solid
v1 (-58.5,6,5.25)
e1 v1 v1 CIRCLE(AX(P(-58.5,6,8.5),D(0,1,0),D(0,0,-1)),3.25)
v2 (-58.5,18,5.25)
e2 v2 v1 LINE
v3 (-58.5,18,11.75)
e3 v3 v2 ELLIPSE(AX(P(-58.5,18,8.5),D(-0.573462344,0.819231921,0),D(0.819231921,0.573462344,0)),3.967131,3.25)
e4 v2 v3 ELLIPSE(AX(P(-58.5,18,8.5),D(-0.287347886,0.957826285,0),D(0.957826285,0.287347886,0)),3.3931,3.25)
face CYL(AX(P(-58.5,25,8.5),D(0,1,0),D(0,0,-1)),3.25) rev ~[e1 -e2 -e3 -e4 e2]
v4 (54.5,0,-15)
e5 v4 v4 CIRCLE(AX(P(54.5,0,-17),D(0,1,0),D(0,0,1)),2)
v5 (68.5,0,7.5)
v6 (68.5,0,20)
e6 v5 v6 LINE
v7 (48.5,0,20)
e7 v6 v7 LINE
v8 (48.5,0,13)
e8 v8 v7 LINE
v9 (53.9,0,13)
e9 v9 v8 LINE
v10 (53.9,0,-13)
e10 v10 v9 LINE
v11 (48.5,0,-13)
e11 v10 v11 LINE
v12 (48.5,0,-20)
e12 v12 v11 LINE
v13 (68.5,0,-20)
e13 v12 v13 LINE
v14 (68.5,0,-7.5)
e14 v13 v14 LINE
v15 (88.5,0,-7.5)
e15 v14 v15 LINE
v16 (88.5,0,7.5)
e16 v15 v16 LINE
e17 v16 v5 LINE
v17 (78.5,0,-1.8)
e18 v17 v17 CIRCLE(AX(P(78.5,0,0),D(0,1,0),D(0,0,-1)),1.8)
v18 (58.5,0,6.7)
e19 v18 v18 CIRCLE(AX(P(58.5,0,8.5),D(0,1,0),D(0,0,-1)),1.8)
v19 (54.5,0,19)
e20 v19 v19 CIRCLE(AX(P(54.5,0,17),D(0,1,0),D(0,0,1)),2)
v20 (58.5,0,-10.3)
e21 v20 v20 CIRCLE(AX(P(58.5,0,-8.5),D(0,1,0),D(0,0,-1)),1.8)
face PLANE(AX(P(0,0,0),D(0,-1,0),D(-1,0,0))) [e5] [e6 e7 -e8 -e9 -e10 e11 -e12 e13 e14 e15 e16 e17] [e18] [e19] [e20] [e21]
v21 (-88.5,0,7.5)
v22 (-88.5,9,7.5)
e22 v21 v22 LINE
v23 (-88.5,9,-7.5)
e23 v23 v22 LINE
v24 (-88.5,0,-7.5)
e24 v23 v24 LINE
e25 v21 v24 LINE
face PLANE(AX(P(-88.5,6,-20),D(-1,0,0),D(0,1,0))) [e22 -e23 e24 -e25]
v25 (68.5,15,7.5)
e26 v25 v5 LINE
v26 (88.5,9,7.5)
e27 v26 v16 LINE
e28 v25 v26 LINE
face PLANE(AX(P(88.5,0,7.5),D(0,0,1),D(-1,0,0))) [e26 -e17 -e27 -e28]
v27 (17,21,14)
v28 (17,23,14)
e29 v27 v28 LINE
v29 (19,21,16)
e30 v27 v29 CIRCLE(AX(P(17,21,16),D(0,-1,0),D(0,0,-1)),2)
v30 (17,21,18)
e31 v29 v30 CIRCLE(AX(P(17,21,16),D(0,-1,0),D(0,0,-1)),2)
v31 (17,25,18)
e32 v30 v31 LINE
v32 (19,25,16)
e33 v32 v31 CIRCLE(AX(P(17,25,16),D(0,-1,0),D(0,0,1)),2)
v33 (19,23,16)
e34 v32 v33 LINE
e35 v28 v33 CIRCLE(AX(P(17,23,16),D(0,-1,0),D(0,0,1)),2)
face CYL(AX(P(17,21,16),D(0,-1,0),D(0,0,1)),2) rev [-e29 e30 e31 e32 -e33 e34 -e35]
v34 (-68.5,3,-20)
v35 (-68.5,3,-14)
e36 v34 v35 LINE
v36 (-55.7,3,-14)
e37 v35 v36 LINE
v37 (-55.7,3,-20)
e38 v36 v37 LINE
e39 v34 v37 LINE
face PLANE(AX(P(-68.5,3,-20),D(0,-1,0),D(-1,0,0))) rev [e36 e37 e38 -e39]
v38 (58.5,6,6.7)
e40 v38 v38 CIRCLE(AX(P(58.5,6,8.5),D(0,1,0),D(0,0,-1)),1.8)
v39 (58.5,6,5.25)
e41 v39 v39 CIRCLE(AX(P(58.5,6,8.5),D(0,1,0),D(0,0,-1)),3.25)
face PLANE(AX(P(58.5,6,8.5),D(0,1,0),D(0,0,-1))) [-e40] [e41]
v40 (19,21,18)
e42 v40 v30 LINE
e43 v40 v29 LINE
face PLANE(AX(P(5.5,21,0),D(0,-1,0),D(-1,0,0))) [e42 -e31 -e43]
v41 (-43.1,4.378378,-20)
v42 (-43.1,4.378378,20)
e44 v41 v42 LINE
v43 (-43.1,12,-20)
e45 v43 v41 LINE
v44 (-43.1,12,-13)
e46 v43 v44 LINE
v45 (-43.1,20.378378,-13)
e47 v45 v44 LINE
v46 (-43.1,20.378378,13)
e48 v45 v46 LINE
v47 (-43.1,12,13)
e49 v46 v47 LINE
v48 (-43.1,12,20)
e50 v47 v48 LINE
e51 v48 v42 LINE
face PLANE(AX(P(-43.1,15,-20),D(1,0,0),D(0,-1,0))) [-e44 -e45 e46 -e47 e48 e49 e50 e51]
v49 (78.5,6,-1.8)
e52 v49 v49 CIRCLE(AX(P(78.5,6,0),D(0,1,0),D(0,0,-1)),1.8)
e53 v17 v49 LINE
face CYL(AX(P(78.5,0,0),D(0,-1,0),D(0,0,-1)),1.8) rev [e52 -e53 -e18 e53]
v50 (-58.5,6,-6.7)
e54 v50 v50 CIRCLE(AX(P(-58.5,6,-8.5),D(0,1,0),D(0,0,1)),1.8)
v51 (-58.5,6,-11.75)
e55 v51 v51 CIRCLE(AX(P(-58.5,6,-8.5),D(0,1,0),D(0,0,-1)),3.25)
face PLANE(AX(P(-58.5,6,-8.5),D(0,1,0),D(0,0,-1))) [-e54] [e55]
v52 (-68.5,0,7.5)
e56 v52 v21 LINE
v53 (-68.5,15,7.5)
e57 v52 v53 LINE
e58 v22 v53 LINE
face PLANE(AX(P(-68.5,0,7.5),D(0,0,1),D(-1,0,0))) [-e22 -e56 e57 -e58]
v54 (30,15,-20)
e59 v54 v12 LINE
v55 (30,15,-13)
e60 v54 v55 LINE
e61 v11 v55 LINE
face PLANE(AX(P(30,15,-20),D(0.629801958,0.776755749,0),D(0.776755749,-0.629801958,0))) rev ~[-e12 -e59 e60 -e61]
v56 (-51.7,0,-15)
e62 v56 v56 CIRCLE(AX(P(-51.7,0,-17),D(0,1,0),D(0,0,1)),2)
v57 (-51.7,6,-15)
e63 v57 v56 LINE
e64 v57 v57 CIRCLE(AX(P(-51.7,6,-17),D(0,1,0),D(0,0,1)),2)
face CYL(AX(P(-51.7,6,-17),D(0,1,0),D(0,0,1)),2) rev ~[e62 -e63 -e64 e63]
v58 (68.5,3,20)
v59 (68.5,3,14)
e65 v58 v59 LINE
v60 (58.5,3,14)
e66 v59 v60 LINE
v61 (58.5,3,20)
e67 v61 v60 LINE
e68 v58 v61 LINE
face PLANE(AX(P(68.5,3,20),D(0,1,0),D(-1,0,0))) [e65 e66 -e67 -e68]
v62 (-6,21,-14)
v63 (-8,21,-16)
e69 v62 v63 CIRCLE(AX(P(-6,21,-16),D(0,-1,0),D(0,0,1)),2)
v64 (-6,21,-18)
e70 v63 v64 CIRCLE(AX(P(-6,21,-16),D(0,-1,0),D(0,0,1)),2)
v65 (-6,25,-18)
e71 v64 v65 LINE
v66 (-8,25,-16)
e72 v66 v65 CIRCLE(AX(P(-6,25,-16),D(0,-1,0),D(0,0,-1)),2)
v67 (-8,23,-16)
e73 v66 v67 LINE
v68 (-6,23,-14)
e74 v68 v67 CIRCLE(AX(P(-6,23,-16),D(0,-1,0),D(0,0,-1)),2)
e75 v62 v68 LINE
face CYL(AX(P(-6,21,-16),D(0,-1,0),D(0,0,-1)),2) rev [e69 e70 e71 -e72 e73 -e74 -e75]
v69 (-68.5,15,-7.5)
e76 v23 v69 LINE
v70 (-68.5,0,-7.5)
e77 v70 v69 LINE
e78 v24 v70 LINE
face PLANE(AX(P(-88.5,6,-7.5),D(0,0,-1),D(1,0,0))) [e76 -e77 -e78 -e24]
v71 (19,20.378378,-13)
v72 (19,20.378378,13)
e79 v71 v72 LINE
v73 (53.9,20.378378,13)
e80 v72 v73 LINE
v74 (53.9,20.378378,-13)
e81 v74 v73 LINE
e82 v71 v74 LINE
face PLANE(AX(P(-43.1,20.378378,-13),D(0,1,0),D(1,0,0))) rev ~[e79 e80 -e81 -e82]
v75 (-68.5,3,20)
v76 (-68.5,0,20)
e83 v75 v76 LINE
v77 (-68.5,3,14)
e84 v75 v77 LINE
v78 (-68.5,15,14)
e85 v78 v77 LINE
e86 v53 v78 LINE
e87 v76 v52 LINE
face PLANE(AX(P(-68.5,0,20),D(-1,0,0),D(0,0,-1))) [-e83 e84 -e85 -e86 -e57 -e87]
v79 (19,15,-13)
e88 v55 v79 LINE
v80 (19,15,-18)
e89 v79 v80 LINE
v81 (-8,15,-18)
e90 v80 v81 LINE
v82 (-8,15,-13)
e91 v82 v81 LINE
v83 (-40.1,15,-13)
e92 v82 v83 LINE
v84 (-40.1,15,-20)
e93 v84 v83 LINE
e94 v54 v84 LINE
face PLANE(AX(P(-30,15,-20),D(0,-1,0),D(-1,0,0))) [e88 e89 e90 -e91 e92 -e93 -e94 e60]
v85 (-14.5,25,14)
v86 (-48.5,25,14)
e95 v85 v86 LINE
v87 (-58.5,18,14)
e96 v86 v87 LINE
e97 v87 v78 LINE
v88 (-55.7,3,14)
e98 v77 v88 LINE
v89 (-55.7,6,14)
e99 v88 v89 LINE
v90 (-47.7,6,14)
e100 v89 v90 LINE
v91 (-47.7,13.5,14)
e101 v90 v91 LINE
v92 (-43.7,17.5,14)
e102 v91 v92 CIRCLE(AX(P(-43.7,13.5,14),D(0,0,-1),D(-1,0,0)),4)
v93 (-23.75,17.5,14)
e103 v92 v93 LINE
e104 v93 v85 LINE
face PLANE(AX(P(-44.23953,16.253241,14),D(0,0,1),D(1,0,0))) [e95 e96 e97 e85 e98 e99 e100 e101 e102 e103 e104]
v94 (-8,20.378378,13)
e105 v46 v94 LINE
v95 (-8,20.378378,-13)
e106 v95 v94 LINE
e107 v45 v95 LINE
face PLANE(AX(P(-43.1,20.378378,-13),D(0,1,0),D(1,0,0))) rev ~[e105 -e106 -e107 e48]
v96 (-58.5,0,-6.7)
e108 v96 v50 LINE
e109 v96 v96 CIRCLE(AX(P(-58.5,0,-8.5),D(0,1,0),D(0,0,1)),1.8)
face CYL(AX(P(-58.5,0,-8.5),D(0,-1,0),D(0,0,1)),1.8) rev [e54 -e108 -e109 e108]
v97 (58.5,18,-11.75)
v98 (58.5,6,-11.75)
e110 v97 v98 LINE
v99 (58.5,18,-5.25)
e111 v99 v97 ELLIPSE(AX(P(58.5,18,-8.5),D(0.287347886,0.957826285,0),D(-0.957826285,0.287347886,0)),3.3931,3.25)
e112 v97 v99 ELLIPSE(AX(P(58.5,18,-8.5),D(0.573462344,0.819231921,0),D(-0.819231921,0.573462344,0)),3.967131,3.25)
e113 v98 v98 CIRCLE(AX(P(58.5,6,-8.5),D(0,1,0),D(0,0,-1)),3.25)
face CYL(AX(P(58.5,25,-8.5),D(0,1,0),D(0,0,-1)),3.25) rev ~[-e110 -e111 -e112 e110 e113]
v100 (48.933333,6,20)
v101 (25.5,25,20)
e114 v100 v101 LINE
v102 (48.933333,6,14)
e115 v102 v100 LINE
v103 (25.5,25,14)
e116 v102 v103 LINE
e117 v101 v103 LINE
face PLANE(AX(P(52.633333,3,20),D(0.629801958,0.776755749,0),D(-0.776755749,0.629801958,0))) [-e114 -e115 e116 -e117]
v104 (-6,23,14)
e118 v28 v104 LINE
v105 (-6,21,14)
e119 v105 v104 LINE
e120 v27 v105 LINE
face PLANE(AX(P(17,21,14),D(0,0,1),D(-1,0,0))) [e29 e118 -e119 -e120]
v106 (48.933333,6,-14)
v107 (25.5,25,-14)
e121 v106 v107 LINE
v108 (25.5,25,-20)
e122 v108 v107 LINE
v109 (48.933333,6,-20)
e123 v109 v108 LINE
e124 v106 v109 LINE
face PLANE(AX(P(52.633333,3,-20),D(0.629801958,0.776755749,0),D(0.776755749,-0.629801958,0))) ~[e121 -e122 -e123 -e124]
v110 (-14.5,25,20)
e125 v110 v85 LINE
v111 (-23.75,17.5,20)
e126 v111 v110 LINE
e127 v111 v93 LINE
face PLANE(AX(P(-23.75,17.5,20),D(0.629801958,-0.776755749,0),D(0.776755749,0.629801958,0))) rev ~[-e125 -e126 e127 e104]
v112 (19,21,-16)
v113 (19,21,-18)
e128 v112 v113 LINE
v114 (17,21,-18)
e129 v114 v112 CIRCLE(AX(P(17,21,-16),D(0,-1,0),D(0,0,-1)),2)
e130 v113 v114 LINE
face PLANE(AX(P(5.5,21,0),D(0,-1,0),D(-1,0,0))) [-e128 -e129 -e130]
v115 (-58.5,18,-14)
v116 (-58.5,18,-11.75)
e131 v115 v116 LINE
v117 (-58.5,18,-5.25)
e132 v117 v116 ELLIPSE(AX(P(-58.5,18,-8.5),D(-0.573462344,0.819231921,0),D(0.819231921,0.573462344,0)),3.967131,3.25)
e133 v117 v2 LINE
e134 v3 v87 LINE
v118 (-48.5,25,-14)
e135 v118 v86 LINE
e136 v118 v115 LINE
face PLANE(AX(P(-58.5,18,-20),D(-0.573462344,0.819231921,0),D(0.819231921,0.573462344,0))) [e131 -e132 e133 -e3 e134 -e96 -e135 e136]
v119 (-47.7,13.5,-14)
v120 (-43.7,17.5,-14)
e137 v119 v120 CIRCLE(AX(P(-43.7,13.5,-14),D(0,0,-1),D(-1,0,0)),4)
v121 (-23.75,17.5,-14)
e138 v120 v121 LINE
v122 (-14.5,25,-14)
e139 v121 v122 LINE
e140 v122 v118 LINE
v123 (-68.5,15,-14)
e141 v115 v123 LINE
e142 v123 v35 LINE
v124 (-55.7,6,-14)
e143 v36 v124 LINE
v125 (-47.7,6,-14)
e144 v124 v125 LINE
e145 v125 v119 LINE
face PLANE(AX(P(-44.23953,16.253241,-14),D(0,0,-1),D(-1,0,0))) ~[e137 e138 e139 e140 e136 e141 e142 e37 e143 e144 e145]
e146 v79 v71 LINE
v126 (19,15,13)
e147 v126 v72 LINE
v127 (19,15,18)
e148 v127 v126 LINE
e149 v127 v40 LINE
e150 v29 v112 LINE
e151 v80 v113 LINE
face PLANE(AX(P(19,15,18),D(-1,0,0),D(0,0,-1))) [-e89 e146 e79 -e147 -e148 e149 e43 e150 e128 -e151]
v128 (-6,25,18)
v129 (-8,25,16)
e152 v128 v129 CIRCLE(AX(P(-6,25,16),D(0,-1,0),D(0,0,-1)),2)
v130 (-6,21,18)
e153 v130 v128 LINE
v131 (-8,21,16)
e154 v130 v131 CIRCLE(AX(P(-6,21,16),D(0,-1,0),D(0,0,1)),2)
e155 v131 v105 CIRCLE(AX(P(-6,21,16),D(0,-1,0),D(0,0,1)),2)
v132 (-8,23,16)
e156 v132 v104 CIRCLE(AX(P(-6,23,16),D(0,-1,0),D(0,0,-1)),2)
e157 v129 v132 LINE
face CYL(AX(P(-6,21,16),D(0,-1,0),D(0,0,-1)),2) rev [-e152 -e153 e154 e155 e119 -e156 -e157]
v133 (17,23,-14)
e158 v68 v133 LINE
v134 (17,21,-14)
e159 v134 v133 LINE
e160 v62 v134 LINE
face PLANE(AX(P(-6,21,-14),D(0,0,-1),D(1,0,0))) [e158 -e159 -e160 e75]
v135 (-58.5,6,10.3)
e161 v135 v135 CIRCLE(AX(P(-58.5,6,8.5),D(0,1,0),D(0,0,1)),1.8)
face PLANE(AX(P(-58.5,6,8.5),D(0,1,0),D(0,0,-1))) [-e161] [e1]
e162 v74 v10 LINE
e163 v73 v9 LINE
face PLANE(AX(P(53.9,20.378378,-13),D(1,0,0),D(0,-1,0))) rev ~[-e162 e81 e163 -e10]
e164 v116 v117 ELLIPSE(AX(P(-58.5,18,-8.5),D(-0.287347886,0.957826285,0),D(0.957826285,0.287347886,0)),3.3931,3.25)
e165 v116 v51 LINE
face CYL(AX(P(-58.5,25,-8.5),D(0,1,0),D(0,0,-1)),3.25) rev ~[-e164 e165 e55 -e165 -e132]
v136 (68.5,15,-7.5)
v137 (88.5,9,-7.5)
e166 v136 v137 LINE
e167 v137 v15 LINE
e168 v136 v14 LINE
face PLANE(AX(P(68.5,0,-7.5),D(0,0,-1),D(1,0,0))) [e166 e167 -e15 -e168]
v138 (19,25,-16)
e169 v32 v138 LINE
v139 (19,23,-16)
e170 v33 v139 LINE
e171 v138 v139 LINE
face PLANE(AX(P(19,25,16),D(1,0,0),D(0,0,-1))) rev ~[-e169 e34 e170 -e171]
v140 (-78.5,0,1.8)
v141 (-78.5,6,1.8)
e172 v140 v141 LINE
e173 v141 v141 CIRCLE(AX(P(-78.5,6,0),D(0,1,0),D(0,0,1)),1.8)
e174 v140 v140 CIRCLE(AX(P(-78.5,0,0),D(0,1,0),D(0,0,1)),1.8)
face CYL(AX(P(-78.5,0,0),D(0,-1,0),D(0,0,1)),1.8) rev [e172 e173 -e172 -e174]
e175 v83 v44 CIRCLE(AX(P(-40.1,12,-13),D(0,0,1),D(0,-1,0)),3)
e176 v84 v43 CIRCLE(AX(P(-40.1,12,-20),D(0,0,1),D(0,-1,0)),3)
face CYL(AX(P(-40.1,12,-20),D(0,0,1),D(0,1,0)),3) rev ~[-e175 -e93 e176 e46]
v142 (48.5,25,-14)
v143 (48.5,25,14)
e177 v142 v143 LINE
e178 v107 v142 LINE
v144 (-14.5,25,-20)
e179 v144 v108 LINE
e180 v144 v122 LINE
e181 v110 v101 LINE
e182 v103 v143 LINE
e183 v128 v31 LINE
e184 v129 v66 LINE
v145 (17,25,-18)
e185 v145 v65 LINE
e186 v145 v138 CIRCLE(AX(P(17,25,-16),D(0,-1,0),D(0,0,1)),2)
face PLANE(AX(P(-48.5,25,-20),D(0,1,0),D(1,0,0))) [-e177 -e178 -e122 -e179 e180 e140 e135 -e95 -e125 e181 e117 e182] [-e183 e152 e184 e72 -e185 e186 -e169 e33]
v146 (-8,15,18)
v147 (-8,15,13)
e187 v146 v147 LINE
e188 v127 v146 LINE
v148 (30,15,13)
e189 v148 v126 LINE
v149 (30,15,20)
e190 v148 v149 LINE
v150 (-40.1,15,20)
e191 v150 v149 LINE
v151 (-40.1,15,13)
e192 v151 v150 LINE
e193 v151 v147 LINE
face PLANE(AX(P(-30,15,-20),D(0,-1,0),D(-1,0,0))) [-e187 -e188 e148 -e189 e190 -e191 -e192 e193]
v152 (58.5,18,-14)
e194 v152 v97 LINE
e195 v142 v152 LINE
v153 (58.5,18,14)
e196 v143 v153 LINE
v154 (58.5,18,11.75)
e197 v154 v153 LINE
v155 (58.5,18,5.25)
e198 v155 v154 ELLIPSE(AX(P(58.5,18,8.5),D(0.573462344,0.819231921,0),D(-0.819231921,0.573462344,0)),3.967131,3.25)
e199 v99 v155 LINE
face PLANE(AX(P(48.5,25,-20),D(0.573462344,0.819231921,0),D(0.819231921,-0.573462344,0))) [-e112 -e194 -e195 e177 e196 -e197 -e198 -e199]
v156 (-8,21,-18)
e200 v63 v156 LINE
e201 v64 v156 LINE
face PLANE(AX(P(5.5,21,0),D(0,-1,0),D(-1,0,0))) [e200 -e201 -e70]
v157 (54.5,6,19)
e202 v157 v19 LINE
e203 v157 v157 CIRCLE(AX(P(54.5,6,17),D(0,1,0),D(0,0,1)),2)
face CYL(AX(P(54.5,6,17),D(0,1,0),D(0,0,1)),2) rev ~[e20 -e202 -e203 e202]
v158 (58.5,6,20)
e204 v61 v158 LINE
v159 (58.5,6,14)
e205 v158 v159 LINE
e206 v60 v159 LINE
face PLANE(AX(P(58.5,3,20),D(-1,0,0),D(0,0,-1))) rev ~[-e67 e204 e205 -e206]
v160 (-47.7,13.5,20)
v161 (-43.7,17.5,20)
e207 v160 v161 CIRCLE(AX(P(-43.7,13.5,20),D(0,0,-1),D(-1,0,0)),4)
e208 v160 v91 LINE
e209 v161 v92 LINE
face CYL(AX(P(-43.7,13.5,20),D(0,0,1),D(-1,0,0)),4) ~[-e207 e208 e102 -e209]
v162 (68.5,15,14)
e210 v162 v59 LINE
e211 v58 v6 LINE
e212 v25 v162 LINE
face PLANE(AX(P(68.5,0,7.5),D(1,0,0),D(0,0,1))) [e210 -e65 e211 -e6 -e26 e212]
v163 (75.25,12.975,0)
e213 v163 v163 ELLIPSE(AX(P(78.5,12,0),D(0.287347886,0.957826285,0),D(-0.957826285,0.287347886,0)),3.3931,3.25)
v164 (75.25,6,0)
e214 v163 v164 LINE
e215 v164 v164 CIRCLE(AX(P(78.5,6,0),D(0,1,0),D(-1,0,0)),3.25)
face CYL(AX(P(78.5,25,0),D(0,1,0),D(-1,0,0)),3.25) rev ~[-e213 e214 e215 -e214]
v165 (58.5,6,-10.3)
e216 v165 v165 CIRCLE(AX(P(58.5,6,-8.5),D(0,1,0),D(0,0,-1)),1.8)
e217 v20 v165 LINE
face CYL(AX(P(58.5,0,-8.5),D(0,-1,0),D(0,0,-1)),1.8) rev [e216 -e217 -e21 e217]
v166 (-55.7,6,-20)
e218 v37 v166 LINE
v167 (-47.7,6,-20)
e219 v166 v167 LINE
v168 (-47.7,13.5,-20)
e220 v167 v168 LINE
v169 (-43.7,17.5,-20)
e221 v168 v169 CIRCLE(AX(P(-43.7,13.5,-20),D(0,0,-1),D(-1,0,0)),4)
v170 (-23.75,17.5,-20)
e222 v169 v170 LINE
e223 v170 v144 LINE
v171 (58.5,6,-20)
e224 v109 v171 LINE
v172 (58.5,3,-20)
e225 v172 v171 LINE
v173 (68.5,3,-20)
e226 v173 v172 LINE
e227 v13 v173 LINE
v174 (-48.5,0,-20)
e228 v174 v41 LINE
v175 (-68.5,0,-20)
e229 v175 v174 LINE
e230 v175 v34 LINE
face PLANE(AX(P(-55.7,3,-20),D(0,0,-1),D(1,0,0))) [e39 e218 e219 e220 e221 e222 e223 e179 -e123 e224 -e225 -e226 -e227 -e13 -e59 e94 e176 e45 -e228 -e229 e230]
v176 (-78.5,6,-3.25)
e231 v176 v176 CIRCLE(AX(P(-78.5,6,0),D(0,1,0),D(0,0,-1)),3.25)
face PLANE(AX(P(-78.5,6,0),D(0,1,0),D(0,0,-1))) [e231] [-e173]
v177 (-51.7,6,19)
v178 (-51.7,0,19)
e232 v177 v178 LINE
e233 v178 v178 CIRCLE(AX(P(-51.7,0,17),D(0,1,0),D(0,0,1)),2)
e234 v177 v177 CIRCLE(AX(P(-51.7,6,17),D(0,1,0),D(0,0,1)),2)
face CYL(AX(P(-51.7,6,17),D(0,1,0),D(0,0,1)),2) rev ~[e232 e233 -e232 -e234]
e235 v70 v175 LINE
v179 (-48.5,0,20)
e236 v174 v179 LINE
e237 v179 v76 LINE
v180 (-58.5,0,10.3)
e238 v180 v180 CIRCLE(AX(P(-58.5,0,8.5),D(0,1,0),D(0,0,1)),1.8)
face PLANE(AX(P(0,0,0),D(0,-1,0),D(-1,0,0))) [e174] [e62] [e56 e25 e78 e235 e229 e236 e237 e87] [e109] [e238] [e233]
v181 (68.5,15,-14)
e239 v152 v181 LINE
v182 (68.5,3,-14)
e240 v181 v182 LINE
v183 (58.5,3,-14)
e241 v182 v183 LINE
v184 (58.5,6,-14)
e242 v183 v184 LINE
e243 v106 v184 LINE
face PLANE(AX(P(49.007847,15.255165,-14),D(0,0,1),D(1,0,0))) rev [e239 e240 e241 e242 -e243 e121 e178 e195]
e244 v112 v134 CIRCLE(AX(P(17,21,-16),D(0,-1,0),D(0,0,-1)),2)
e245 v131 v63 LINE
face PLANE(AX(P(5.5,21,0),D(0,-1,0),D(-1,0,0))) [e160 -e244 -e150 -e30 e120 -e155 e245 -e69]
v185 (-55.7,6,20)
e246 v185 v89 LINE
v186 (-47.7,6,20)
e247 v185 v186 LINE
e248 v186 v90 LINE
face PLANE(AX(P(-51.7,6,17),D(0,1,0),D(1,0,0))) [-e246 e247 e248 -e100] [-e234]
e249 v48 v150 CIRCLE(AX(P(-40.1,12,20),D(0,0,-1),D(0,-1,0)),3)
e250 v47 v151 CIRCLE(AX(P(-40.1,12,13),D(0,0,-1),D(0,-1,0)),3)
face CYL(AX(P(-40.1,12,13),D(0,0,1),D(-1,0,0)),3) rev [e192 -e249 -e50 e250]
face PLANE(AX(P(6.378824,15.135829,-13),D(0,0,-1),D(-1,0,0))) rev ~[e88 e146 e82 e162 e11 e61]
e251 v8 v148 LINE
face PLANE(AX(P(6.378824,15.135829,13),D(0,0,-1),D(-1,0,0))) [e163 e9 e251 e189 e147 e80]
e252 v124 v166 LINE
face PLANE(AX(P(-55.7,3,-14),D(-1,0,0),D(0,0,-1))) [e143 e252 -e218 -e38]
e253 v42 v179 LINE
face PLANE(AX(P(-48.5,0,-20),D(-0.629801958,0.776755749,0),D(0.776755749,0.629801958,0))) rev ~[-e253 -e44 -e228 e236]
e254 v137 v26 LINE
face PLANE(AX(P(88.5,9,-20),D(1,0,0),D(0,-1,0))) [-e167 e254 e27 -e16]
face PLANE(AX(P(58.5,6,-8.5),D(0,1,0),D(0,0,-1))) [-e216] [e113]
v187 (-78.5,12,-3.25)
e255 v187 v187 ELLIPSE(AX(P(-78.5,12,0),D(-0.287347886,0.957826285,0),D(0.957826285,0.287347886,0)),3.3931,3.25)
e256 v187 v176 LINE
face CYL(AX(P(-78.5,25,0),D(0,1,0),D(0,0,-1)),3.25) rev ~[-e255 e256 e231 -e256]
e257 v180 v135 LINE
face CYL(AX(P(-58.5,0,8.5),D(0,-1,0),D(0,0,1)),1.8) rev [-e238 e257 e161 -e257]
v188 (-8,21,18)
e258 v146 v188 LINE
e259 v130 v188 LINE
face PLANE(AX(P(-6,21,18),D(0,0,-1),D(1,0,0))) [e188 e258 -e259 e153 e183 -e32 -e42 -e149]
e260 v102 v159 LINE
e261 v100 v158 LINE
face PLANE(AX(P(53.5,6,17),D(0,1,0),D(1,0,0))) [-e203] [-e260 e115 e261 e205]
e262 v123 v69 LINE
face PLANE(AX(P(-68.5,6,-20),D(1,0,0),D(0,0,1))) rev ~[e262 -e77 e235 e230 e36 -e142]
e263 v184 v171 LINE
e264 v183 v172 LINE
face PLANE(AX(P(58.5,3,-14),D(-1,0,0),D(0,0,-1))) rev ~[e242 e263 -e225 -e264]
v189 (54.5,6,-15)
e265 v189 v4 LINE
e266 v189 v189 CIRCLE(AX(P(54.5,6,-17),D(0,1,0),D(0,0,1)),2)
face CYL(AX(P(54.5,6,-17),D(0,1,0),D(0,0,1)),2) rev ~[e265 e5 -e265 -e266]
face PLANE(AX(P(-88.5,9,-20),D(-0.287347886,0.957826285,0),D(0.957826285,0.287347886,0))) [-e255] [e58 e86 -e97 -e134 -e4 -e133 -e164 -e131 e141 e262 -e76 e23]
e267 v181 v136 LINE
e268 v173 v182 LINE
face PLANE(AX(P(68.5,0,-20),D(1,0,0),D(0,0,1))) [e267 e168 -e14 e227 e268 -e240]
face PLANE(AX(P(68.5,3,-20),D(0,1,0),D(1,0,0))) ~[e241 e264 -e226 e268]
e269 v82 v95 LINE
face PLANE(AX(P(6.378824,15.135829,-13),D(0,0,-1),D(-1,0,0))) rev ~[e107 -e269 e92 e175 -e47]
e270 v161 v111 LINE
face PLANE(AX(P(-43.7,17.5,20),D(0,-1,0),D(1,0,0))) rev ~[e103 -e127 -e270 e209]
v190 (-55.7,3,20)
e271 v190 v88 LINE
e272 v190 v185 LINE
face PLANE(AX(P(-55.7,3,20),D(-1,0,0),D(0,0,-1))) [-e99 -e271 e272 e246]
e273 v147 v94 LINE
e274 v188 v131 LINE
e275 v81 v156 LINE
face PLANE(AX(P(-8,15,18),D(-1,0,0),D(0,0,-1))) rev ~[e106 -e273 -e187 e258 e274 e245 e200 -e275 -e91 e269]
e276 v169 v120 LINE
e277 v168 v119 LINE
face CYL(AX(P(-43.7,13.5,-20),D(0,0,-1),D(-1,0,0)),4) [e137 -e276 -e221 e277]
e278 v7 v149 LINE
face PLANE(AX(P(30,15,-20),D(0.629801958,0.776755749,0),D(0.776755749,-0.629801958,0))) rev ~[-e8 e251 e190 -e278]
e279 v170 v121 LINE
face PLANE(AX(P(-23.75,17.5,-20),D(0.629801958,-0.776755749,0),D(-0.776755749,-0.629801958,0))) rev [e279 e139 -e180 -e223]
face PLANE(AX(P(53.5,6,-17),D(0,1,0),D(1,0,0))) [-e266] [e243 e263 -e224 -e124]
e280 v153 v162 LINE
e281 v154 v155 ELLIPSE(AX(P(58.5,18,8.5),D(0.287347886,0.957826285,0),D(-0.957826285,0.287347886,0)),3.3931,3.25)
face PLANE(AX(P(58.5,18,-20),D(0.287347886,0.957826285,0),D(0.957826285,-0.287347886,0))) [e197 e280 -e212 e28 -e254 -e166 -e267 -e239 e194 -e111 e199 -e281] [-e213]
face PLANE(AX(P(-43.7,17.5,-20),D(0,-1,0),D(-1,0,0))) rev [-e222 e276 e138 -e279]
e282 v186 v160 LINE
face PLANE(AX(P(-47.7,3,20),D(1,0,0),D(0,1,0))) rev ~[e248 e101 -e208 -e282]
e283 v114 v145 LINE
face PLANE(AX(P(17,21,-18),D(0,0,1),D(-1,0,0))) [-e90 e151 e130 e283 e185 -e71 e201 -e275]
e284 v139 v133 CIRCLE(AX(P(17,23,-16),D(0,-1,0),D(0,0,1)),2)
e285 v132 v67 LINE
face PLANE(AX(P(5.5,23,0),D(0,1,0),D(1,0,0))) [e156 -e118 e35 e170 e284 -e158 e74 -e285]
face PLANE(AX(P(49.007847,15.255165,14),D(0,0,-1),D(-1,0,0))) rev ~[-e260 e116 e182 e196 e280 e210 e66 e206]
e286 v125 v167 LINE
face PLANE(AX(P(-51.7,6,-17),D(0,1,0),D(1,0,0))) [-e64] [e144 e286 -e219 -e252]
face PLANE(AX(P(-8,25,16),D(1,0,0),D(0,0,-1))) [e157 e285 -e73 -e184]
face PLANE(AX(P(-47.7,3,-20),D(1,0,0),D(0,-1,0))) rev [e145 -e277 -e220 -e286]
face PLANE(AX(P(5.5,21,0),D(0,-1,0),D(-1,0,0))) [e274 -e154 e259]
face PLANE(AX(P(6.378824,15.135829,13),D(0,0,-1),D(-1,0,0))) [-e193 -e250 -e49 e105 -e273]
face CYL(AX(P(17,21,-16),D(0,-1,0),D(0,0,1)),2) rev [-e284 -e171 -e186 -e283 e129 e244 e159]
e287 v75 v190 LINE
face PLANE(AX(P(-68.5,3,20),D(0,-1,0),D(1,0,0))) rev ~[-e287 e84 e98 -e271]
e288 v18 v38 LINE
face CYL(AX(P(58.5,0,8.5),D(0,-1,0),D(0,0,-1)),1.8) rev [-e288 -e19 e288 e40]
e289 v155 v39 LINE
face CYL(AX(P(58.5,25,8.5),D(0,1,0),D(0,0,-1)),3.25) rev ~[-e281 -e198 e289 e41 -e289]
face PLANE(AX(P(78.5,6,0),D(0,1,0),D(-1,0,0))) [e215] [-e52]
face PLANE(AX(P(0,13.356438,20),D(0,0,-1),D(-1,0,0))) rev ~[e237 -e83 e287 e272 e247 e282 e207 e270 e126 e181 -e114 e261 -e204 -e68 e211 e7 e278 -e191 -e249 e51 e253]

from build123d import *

# Parameters (mm, degrees)
SKETCH1_R           = 1.8
BOSS_EXTRUDE1_DEPTH = 6
BOSS_EXTRUDE2_DEPTH = 40
CUT_EXTRUDE1_REACH  = 94.7
SKETCH3_W           = 20
SKETCH3_H           = 12.5
SKETCH4_R           = 3.25
CUT_EXTRUDE2_DEPTH  = 19
CUT_EXTRUDE3_REACH  = 102.286
CUT_EXTRUDE4_START  = -7
CUT_EXTRUDE4_DEPTH  = 26
SKETCH7_W           = 27
SKETCH7_H           = 36
CUT_EXTRUDE5_DEPTH  = 6
CUT_EXTRUDE6_REACH  = 95.13
SKETCH9_W           = 27
SKETCH9_H           = 32
CUT_EXTRUDE7_DEPTH  = 2
CUT_EXTRUDE10_DEPTH = 101.285841473
FILLET1_R           = 3
CUT_EXTRUDE11_DEPTH = 6
SKETCH12_W          = 8
SKETCH12_H          = 6
SKETCH12_W_2        = 10
BOSS_EXTRUDE3_DEPTH = 3
SKETCH13_R          = 2
CUT_EXTRUDE12_DEPTH = 6


with BuildPart() as part:
    # Sketch1 → Boss-Extrude1 (new body)
    with BuildSketch(Plane(origin=(0, 0, 0), x_dir=(1, 0, 0), z_dir=(0, 1, 0))):
        Polygon((68.5, 20), (68.5, 7.5), (88.5, 7.5), (88.5, -7.5), (68.5, -7.5), (68.5, -20), (-68.5, -20), (-68.5, -7.5), (-88.5, -7.5), (-88.5, 7.5), (-68.5, 7.5), (-68.5, 20), align=None)
        with Locations(Location((-78.5, 0, 0), (0, 0, 270))):
            Circle(SKETCH1_R, mode=Mode.SUBTRACT)
        with Locations(Location((-58.5, 8.5, 0), (0, 0, 270))):
            Circle(SKETCH1_R, mode=Mode.SUBTRACT)
        with Locations(Location((-58.5, -8.5, 0), (0, 0, 270))):
            Circle(SKETCH1_R, mode=Mode.SUBTRACT)
        with Locations(Location((58.5, -8.5, 0), (0, 0, 90))):
            Circle(SKETCH1_R, mode=Mode.SUBTRACT)
        with Locations(Location((78.5, 0, 0), (0, 0, 90))):
            Circle(SKETCH1_R, mode=Mode.SUBTRACT)
        with Locations(Location((58.5, 8.5, 0), (0, 0, 90))):
            Circle(SKETCH1_R, mode=Mode.SUBTRACT)
    extrude(amount=BOSS_EXTRUDE1_DEPTH)

    # Sketch2 → Boss-Extrude2 (add)
    with BuildSketch(Plane(origin=(0, 0, -20), x_dir=(-1, 0, 0), z_dir=(0, 0, -1))):
        Polygon((-88.5, 6), (88.5, 6), (88.5, 9), (58.5, 18), (48.5, 25), (-48.5, 25), (-58.5, 18), (-88.5, 9), align=None)
    extrude(amount=-BOSS_EXTRUDE2_DEPTH)

    # Sketch3 → Cut-Extrude1 (cut, up to next)
    with BuildSketch(Plane.XZ.offset(-6), mode=Mode.PRIVATE) as cut_extrude1_sk1:
        with Locations((-78.5, 13.75)):
            Rectangle(SKETCH3_W, SKETCH3_H)
    cut_extrude1_tool1 = extrude(cut_extrude1_sk1.sketch, amount=-CUT_EXTRUDE1_REACH, mode=Mode.PRIVATE) & part.part
    # Sketch3 → Cut-Extrude1 (cut, up to next)
    with BuildSketch(Plane.XZ.offset(-6), mode=Mode.PRIVATE) as cut_extrude1_sk2:
        with Locations((-78.5, -13.75)):
            Rectangle(SKETCH3_W, SKETCH3_H)
    cut_extrude1_tool2 = extrude(cut_extrude1_sk2.sketch, amount=-CUT_EXTRUDE1_REACH, mode=Mode.PRIVATE) & part.part
    # Sketch3 → Cut-Extrude1 (cut, up to next)
    with BuildSketch(Plane.XZ.offset(-6), mode=Mode.PRIVATE) as cut_extrude1_sk3:
        with Locations((78.5, 13.75)):
            Rectangle(SKETCH3_W, SKETCH3_H)
    cut_extrude1_tool3 = extrude(cut_extrude1_sk3.sketch, amount=-CUT_EXTRUDE1_REACH, mode=Mode.PRIVATE) & part.part
    # Sketch3 → Cut-Extrude1 (cut, up to next)
    with BuildSketch(Plane.XZ.offset(-6), mode=Mode.PRIVATE) as cut_extrude1_sk4:
        with Locations((78.5, -13.75)):
            Rectangle(SKETCH3_W, SKETCH3_H)
    cut_extrude1_tool4 = extrude(cut_extrude1_sk4.sketch, amount=-CUT_EXTRUDE1_REACH, mode=Mode.PRIVATE) & part.part
    add(cut_extrude1_tool1.solids().sort_by_distance((-78.5, 6, 13.75))[0], mode=Mode.SUBTRACT)
    add(cut_extrude1_tool2.solids().sort_by_distance((-78.5, 6, -13.75))[0], mode=Mode.SUBTRACT)
    add(cut_extrude1_tool3.solids().sort_by_distance((78.5, 6, 13.75))[0], mode=Mode.SUBTRACT)
    add(cut_extrude1_tool4.solids().sort_by_distance((78.5, 6, -13.75))[0], mode=Mode.SUBTRACT)

    # Sketch4 → Cut-Extrude2 (cut)
    with BuildSketch(Plane(origin=(0, 25, 0), x_dir=(1, 0, 0), z_dir=(0, 1, 0))):
        with Locations(Location((-58.5, 8.5, 0), (0, 0, 90))):
            Circle(SKETCH4_R)
        with Locations(Location((-78.5, 0, 0), (0, 0, 90))):
            Circle(SKETCH4_R)
        with Locations(Location((-58.5, -8.5, 0), (0, 0, 90))):
            Circle(SKETCH4_R)
        with Locations(Location((58.5, 8.5, 0), (0, 0, 90))):
            Circle(SKETCH4_R)
        with Locations(Location((58.5, -8.5, 0), (0, 0, 90))):
            Circle(SKETCH4_R)
        with Locations(Location((78.5, 0, 0), (0, 0, 180))):
            Circle(SKETCH4_R)
    extrude(amount=-CUT_EXTRUDE2_DEPTH, mode=Mode.SUBTRACT)

    # Sketch5 → Cut-Extrude3 (cut, up to next)
    with BuildSketch(Plane(origin=(0, 0, -20), x_dir=(-1, 0, 0), z_dir=(0, 0, -1)), mode=Mode.PRIVATE) as cut_extrude3_sk1:
        Polygon((48.5, 0), (30, 15), (-30, 15), (-48.5, 0), align=None)
    cut_extrude3_tool1 = extrude(cut_extrude3_sk1.sketch, amount=-CUT_EXTRUDE3_REACH, mode=Mode.PRIVATE) & part.part
    add(cut_extrude3_tool1.solids().sort_by_distance((0, 6.910828, -20))[0], mode=Mode.SUBTRACT)

    # Sketch6 → Cut-Extrude4 (cut)
    with BuildSketch(Plane(origin=(0, 0, -20), x_dir=(-1, 0, 0), z_dir=(0, 0, -1)).offset(CUT_EXTRUDE4_START)):
        Polygon((43.1, 4.378378378), (43.1, 20.378378378), (-53.9, 20.378378378), (-53.9, 0), (-48.5, 0), (-30, 15), (30, 15), align=None)
    extrude(amount=-CUT_EXTRUDE4_DEPTH, mode=Mode.SUBTRACT)

    # Sketch7 → Cut-Extrude5 (cut)
    with BuildSketch(Plane(origin=(0, 15, 0), x_dir=(-1, 0, 0), z_dir=(0, -1, 0))):
        with Locations((-5.5, 0)):
            Rectangle(SKETCH7_W, SKETCH7_H)
    extrude(amount=-CUT_EXTRUDE5_DEPTH, mode=Mode.SUBTRACT)

    # Sketch8 → Cut-Extrude6 (cut, up to next)
    with BuildSketch(Plane.XZ.offset(-21), mode=Mode.PRIVATE) as cut_extrude6_sk1:
        with BuildLine():
            Line((17, -18), (-6, -18))
            ThreePointArc((-6, -18), (-8, -16), (-6, -14))
            Line((-6, -14), (17, -14))
            ThreePointArc((17, -14), (19, -16), (17, -18))
        make_face()
    cut_extrude6_tool1 = extrude(cut_extrude6_sk1.sketch, amount=-CUT_EXTRUDE6_REACH, mode=Mode.PRIVATE) & part.part
    # Sketch8 → Cut-Extrude6 (cut, up to next)
    with BuildSketch(Plane.XZ.offset(-21), mode=Mode.PRIVATE) as cut_extrude6_sk2:
        with BuildLine():
            Line((17, 14), (-6, 14))
            ThreePointArc((-6, 14), (-8, 16), (-6, 18))
            Line((-6, 18), (17, 18))
            ThreePointArc((17, 18), (19, 16), (17, 14))
        make_face()
    cut_extrude6_tool2 = extrude(cut_extrude6_sk2.sketch, amount=-CUT_EXTRUDE6_REACH, mode=Mode.PRIVATE) & part.part
    add(cut_extrude6_tool1.solids().sort_by_distance((5.5, 21, -16))[0], mode=Mode.SUBTRACT)
    add(cut_extrude6_tool2.solids().sort_by_distance((5.5, 21, 16))[0], mode=Mode.SUBTRACT)

    # Sketch9 → Cut-Extrude7 (cut)
    with BuildSketch(Plane(origin=(0, 25, 0), x_dir=(1, 0, 0), z_dir=(0, 1, 0))):
        with Locations((5.5, 0)):
            Rectangle(SKETCH9_W, SKETCH9_H)
    extrude(amount=-CUT_EXTRUDE7_DEPTH, mode=Mode.SUBTRACT)

    # Sketch10 → Cut-Extrude10 (cut, through all)
    with BuildSketch(Plane(origin=(0, 0, -20), x_dir=(-1, 0, 0), z_dir=(0, 0, -1))):
        Polygon((43.1, 4.378378378), (30, 15), (43.1, 15), align=None)
    extrude(amount=-CUT_EXTRUDE10_DEPTH, mode=Mode.SUBTRACT)

    # Fillet1
    fillet1_edges = [part.edges().sort_by_distance(p)[0] for p in [
        (-43.1, 15, -16.5),
        (-43.1, 15, 16.5),
    ]]
    fillet(fillet1_edges, radius=FILLET1_R)

    # Sketch11 → Cut-Extrude11 (cut)
    with BuildSketch(Plane.XY.offset(20)):
        Polygon((25.5, 25), (48.5, 25), (58.5, 18), (68.5, 15), (68.5, 3), (52.633333333, 3), align=None)
        with BuildLine():
            Line((-68.5, 3), (-47.7, 3))
            Line((-47.7, 3), (-47.7, 13.5))
            ThreePointArc((-47.7, 13.5), (-46.528427125, 16.328427125), (-43.7, 17.5))
            Line((-43.7, 17.5), (-23.75, 17.5))
            Line((-23.75, 17.5), (-14.5, 25))
            Line((-14.5, 25), (-48.5, 25))
            Line((-48.5, 25), (-58.5, 18))
            Line((-58.5, 18), (-68.5, 15))
            Line((-68.5, 15), (-68.5, 3))
        make_face()
    cut_extrude11 = extrude(amount=-CUT_EXTRUDE11_DEPTH, mode=Mode.SUBTRACT)

    # Mirror1: Cut-Extrude11 across plane
    add(cut_extrude11.mirror(Plane(origin=(0, 0, 0), x_dir=(1, 0, 0), z_dir=(0, 0, -1))), mode=Mode.SUBTRACT)

    # Sketch12 → Boss-Extrude3 (add)
    with BuildSketch(Plane(origin=(0, 3, 0), x_dir=(1, 0, 0), z_dir=(0, 1, 0))):
        with Locations((-51.7, 17)):
            Rectangle(SKETCH12_W, SKETCH12_H)
        with Locations((-51.7, -17)):
            Rectangle(SKETCH12_W, SKETCH12_H)
        with Locations((53.5, -17)):
            Rectangle(SKETCH12_W_2, SKETCH12_H)
        with Locations((53.5, 17)):
            Rectangle(SKETCH12_W_2, SKETCH12_H)
    extrude(amount=BOSS_EXTRUDE3_DEPTH)

    # Sketch13 → Cut-Extrude12 (cut)
    with BuildSketch(Plane(origin=(0, 6, 0), x_dir=(1, 0, 0), z_dir=(0, 1, 0))):
        with Locations(Location((54.5, -17, 0), (0, 0, 270))):
            Circle(SKETCH13_R)
        with Locations(Location((54.5, 17, 0), (0, 0, 270))):
            Circle(SKETCH13_R)
        with Locations(Location((-51.7, 17, 0), (0, 0, 270))):
            Circle(SKETCH13_R)
        with Locations(Location((-51.7, -17, 0), (0, 0, 270))):
            Circle(SKETCH13_R)
    extrude(amount=-CUT_EXTRUDE12_DEPTH, mode=Mode.SUBTRACT)


solid = part.part
